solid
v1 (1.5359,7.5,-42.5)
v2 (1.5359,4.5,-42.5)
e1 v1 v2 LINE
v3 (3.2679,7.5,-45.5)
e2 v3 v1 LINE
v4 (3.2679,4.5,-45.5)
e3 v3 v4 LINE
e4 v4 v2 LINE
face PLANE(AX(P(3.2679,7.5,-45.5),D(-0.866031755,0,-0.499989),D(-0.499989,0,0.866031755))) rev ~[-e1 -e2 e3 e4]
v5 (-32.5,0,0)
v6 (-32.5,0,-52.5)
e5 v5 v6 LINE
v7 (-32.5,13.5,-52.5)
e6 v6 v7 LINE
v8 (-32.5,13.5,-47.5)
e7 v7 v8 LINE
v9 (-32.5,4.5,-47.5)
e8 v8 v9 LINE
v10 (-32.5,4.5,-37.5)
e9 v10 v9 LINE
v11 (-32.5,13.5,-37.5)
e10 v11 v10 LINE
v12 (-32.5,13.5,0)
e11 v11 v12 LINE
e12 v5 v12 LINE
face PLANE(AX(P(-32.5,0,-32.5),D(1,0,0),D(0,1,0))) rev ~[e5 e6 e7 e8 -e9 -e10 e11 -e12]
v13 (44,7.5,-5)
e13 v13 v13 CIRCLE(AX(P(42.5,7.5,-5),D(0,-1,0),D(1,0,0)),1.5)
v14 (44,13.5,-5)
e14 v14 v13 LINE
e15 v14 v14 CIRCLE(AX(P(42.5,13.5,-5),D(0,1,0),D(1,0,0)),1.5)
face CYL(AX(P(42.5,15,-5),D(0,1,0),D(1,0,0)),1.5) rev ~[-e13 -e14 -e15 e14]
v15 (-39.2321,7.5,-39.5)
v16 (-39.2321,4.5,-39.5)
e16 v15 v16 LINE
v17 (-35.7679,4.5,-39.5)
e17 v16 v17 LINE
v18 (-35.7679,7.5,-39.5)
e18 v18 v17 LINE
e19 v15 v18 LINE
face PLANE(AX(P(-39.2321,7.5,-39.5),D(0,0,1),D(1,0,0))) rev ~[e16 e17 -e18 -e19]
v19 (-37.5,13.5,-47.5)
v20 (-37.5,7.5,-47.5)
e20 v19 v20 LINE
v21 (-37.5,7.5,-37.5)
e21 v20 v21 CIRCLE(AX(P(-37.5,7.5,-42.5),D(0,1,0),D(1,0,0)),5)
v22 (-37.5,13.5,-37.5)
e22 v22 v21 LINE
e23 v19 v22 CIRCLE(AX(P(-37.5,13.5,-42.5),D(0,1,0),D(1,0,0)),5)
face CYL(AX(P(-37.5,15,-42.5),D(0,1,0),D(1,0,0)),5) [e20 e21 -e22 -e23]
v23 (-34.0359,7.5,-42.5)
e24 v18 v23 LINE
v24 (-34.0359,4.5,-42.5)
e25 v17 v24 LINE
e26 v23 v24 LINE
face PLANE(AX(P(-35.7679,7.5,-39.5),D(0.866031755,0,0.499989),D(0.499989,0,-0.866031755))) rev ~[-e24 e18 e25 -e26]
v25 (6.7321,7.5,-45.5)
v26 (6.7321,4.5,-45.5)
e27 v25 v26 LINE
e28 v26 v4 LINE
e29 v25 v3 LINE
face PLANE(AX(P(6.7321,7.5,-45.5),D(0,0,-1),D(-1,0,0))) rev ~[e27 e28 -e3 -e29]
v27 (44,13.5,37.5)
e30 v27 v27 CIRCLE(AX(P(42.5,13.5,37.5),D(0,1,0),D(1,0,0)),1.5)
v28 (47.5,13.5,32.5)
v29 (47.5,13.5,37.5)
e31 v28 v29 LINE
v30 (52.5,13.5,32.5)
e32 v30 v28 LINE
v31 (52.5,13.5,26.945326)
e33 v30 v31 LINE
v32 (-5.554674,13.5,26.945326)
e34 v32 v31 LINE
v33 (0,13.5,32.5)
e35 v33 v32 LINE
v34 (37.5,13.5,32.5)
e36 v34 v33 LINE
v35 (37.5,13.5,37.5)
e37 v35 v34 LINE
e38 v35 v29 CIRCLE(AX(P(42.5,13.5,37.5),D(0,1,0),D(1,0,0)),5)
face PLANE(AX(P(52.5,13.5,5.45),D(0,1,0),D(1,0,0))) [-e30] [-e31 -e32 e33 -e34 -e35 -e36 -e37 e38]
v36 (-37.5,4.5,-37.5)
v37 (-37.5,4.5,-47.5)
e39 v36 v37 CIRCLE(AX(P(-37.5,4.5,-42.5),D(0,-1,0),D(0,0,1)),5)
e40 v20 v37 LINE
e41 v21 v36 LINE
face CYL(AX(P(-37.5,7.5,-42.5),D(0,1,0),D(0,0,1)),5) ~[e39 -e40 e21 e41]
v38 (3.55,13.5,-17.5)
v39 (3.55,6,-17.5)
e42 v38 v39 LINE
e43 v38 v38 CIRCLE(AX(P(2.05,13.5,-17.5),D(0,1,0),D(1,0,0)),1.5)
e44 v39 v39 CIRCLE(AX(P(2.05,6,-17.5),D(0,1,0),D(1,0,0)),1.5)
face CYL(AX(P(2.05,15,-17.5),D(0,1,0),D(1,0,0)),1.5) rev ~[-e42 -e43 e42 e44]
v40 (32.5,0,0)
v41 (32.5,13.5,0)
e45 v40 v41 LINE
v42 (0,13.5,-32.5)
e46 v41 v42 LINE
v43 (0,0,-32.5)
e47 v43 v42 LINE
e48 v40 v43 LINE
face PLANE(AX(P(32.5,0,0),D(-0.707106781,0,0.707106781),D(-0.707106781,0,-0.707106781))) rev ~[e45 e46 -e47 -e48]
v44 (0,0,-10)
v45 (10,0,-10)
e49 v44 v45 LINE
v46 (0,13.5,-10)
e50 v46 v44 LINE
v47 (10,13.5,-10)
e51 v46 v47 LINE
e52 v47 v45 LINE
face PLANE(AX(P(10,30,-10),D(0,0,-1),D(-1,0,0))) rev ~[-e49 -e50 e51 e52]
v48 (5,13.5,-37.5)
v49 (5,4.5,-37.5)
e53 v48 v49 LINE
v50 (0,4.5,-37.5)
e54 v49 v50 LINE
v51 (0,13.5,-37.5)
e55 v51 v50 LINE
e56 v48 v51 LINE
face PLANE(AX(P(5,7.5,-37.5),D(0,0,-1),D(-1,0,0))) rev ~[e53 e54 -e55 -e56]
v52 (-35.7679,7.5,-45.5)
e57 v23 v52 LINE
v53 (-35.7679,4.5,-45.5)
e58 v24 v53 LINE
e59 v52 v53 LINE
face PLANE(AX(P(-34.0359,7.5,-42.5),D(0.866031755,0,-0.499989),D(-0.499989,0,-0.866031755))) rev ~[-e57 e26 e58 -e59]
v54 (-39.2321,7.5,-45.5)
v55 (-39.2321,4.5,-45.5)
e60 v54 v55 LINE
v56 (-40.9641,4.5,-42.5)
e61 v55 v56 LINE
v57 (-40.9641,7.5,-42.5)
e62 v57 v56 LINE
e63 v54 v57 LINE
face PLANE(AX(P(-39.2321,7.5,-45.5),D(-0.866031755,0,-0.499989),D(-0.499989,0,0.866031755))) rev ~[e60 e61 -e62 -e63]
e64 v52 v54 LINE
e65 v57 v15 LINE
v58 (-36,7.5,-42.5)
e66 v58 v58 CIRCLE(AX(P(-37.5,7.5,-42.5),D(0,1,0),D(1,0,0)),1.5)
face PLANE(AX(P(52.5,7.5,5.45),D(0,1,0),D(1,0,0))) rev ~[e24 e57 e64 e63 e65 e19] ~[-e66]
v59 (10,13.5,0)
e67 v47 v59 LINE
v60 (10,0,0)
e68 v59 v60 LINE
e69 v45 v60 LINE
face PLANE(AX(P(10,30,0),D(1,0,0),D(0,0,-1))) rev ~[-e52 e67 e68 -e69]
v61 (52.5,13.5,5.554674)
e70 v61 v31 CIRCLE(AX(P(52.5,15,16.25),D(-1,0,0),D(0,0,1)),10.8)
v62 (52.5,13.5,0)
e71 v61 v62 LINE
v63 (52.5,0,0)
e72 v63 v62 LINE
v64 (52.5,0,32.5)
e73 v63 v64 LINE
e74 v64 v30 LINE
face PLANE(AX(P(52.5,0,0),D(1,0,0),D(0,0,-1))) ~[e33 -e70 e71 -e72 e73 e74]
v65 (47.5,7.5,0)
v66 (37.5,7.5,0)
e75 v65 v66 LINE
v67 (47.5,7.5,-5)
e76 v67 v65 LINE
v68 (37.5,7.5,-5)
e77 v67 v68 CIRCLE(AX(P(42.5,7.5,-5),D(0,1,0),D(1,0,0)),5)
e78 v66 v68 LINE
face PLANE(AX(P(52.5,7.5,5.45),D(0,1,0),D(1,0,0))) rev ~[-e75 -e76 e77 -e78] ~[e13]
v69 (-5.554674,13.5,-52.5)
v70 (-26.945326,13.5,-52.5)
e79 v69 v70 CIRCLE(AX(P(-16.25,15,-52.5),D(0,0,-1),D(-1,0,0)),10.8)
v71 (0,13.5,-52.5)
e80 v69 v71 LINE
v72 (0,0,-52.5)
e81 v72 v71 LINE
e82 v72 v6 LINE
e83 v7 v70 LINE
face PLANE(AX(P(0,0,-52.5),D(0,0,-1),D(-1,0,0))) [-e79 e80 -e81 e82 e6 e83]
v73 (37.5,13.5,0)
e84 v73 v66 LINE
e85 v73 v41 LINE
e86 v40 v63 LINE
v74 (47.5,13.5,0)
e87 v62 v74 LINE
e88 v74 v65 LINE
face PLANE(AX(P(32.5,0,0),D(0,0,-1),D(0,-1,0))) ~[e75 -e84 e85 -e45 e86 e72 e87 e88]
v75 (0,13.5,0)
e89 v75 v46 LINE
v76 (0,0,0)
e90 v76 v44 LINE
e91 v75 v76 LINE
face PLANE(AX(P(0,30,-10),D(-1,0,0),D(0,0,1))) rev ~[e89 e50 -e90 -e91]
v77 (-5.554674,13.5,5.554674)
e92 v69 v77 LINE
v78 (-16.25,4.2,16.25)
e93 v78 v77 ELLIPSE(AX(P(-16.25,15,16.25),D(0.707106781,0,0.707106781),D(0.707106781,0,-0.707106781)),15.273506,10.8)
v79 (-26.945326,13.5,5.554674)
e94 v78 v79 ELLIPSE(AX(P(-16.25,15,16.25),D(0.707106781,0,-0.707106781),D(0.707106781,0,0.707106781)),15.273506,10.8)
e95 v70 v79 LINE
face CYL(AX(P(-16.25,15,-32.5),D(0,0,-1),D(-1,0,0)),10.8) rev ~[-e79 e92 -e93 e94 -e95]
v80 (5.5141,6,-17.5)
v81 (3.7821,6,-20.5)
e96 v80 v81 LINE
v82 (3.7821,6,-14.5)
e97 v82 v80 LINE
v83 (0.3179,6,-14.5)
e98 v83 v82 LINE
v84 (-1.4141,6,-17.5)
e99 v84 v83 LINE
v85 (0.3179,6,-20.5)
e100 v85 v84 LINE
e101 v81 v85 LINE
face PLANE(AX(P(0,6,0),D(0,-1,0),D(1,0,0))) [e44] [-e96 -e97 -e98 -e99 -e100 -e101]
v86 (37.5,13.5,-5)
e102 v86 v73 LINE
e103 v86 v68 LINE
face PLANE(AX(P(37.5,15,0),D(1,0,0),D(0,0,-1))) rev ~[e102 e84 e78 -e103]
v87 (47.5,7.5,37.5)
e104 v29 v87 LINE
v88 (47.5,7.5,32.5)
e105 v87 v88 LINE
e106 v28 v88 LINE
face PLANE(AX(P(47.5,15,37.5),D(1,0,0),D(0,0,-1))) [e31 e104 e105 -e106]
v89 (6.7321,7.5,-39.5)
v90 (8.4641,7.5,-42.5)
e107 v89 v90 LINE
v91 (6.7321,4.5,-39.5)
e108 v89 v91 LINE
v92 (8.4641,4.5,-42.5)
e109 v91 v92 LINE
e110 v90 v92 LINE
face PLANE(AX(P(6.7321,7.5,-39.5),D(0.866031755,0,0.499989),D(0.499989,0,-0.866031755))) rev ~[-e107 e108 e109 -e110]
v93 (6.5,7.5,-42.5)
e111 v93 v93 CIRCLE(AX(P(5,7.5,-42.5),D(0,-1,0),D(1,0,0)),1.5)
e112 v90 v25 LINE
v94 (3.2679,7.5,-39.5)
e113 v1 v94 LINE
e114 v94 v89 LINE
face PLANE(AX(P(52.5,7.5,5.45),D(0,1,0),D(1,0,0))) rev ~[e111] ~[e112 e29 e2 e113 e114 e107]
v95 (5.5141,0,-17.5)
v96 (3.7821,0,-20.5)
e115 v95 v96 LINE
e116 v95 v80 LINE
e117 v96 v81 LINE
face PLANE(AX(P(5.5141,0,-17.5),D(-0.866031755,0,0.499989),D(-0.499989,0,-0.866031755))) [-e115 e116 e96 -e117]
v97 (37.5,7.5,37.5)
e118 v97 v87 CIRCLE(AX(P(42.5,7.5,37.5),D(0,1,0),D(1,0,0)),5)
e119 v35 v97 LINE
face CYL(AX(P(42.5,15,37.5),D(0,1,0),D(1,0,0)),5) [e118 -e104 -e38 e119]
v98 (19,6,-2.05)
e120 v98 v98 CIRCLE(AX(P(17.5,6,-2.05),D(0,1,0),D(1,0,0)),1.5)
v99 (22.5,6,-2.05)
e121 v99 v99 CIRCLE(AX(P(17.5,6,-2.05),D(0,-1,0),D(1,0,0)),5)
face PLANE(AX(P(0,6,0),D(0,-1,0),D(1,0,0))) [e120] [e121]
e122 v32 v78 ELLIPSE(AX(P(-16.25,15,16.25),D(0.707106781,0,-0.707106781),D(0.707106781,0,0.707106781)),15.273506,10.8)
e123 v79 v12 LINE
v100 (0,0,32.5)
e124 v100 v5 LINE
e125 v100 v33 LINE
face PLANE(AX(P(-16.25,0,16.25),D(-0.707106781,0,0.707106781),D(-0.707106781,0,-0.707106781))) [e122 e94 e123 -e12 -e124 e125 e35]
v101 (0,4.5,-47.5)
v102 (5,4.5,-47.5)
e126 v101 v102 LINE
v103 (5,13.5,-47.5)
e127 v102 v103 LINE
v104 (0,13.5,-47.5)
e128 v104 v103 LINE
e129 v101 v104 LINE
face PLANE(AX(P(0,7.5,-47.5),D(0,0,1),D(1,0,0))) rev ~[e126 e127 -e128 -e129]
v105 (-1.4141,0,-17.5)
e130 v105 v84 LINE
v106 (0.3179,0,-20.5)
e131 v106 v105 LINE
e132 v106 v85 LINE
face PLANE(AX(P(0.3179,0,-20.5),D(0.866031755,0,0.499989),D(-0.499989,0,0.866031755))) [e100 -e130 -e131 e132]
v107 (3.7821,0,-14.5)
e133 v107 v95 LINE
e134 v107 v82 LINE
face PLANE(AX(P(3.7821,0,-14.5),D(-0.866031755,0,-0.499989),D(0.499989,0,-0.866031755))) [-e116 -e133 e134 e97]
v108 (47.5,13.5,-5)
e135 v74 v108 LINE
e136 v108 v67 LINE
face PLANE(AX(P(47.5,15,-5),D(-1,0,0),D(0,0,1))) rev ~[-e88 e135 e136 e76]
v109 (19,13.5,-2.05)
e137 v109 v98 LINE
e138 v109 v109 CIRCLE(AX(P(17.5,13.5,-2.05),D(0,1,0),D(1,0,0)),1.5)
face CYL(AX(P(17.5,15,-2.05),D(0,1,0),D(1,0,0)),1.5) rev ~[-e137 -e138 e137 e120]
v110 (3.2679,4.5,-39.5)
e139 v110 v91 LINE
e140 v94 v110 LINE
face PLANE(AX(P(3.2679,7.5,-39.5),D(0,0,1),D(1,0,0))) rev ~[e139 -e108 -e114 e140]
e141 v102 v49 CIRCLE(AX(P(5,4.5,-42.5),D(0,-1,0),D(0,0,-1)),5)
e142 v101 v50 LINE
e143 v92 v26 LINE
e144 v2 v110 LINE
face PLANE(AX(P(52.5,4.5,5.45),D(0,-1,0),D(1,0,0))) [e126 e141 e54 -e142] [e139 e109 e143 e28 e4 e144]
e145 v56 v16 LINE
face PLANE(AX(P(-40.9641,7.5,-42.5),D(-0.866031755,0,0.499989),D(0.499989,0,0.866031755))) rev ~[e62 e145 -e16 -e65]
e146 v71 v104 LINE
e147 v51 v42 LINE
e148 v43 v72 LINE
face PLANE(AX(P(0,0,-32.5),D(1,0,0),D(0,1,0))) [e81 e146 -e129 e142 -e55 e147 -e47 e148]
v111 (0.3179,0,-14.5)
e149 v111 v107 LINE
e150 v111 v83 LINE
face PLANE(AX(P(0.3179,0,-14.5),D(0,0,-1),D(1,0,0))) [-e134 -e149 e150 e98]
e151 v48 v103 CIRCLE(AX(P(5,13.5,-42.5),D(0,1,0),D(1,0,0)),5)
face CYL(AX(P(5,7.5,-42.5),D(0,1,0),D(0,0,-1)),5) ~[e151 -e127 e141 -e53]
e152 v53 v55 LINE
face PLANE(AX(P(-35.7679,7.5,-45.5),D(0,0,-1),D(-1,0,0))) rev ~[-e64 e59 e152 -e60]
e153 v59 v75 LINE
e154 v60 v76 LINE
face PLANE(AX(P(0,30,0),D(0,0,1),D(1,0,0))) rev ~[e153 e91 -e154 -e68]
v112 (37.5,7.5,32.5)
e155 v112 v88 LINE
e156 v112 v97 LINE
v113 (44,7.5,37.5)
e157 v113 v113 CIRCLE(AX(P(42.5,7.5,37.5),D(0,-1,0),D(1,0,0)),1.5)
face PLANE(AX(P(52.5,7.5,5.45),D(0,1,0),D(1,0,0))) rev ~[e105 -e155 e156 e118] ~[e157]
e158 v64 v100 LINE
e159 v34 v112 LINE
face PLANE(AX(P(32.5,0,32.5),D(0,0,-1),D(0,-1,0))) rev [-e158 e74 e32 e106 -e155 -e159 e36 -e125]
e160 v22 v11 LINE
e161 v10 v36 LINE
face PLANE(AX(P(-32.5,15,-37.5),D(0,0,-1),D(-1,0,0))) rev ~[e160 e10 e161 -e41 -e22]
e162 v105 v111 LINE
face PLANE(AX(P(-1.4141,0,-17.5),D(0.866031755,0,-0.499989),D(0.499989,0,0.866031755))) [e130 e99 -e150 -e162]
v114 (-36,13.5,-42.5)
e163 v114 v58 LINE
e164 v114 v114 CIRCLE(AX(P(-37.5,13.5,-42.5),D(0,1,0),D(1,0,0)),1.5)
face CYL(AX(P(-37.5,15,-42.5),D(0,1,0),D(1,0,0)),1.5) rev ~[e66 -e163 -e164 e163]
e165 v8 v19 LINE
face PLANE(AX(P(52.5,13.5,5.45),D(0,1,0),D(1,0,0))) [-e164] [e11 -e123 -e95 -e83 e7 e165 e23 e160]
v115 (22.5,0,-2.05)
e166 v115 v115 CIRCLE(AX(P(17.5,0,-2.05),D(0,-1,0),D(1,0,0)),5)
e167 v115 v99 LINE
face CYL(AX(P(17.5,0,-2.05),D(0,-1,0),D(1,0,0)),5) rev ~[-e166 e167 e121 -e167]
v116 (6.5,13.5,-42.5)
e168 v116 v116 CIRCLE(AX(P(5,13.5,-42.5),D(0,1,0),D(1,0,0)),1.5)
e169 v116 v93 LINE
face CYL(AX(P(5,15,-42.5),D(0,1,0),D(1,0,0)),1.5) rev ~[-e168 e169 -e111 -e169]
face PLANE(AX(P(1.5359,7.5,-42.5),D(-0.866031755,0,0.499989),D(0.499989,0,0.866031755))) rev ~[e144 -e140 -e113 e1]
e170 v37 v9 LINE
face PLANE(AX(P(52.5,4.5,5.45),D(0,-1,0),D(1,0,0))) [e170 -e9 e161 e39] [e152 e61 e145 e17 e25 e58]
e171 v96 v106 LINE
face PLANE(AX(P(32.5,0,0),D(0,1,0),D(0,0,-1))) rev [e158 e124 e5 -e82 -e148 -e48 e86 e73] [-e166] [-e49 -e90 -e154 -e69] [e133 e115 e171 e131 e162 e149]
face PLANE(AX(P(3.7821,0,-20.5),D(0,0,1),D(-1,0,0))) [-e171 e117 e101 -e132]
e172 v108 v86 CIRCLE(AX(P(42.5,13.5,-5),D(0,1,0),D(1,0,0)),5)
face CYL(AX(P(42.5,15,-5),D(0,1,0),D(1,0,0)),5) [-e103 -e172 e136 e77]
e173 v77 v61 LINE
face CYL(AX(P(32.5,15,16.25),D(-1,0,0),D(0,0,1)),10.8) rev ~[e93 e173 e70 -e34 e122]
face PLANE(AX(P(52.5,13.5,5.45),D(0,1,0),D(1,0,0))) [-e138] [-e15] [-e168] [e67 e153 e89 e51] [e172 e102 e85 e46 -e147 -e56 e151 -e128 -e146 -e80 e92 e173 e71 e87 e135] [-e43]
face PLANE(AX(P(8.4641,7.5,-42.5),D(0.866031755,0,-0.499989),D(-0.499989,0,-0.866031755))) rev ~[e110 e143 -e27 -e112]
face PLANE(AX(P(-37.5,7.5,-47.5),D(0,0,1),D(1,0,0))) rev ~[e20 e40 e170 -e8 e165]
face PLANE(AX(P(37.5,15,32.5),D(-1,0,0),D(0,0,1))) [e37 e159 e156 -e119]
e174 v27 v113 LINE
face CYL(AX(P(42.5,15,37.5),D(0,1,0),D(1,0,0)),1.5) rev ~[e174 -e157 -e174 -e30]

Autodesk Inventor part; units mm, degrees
ref_plane "YZ Plane" through (0, 0, 0) normal (1, 0, 0) x (0, 1, 0)
ref_plane "XZ Plane" through (0, 0, 0) normal (0, 1, 0) x (-1, 0, 0)
sketch "Sketch1" plane through (0, 0, 0) normal (0, 1, 0) x (-1, 0, 0)
  line L0 (-32.5, -32.5) -> (32.5, -32.5)
  line L1 (32.5, -32.5) -> (32.5, 32.5)
  line L2 (32.5, 32.5) -> (-32.5, 32.5)
  line L3 (-32.5, 32.5) -> (-32.5, -32.5)
  line L4 (-32.5, -32.5) -> (32.5, 32.5) construction
  line L5 (32.5, -32.5) -> (-32.5, 32.5) construction
  line L6 (-32.5, 0) -> (0, -32.5)
  point P0 (0, 0)
  dimension "d0" = 65
  dimension "d1" = 65
extrude "Extrusion1" add sketch "Sketch1" along normal blind 30 contours L6 L3 L2 L1 L0
sketch "Sketch2" plane through (32.5, 0, 32.5) normal (1, 0, 0) x (0, 0, -1)
  line L0 (0, 0) -> (32.5, 0) projected
  line L1 (0, 30) -> (32.5, 30) projected
  line L2 (0, 0) -> (32.5, 30)
  circle A0 centre (16.25, 15) radius 10.8
  dimension "d5" = 21.6
extrude "Extrusion2" cut sketch "Sketch2" against normal blind 65.75
sketch "Sketch3" plane through (0, 0, -32.5) normal (0, 0, -1) x (-1, 0, 0)
  line L0 (32.5, 0) -> (32.5, 30) projected
  line L1 (0, 0) -> (32.5, 30)
  circle A0 centre (16.25, 15) radius 10.8
  dimension "d8" = 21.6
extrude "Extrusion3" cut sketch "Sketch3" against normal blind 65.75
sketch "Sketch4" plane through (0, 0, -32.5) normal (0, 0, -1) x (-1, 0, 0)
  circle A0 centre (16.25, 15) radius 10.8 projected
  line L0 (0, 0) -> (32.5, 0) projected
  line L1 (32.5, 0) -> (32.5, 30) projected
  line L2 (0, 30) -> (32.5, 30) projected
  line L3 (0, 0) -> (0, 30) projected
  point P0 (0, 0)
extrude "Extrusion4" add sketch "Sketch4" along normal blind 20
sketch "Sketch6" plane through (-32.5, 0, 32.5) normal (0, 0, 1) x (1, 0, 0)
  point P0 (32.5, 0)
ref_plane "Work Plane1" through (-32.5, 0, 32.5) normal (0.7071, 0, 0.7071) x (0, 1, 0)
mirror "Mirror1" about plane through (-32.5, 0, 32.5) normal (0.7071, 0, 0.7071) of "Extrusion4"
sketch "Sketch7" plane through (0, 30, 0) normal (0, 1, 0) x (1, 0, 0)
  line L0 (0, 0) -> (10, 0)
  line L1 (10, 0) -> (10, 10)
  line L2 (10, 10) -> (0, 10)
  line L3 (0, 10) -> (0, 0)
  dimension "d20" = 10
  dimension "d21" = 10
extrude "Extrusion7" cut sketch "Sketch7" against normal blind 72
sketch "Sketch8" plane through (0, 30, 0) normal (0, 1, 0) x (1, 0, 0)
  point P0 (0, 0)
sketch "Sketch9" plane through (0, 0, 0) normal (0, -1, 0) x (1, 0, 0)
  line L0 (-32.5, 32.5) -> (52.5, 32.5) projected
  line L1 (0, 32.5) -> (-32.5, 0)
  line L2 (-32.5, 32.5) -> (-32.5, -52.5) projected
  line L3 (-16.25, 16.25) -> (-27.05, 27.05) projected
  line L4 (10, -10) -> (0, -10) projected
  line L5 (0, -10) -> (0, 0) projected
  line L6 (0, 0) -> (10, 0) projected
  line L7 (10, 0) -> (10, -10) projected
  line L8 (-32.5, 32.5) -> (52.5, 32.5) projected
  line L9 (-32.5, 32.5) -> (-32.5, -52.5) projected
  line L10 (0, -52.5) -> (-32.5, -52.5) projected
  line L11 (0, -32.5) -> (0, -52.5) projected
  line L12 (32.5, 0) -> (0, -32.5) projected
  line L13 (32.5, 0) -> (52.5, 0) projected
  line L14 (52.5, 0) -> (52.5, 32.5) projected
extrude "Extrusion8" cut sketch "Sketch9" against normal blind 77 contours L0 L1 L2
sketch "Sketch10" plane through (52.5, 0, 0) normal (1, 0, 0) x (0, 0, -1)
  line L0 (-32.5, 0) -> (-32.5, 30) projected
  line L1 (-32.5, 15) -> (70.7005, 15)
  line L2 (-32.5, 18) -> (63.4302, 18)
  line L3 (63.4302, 18) -> (63.4302, 33.0459)
  line L4 (63.4302, 33.0459) -> (-32.5, 33.0459)
  line L5 (-32.5, 33.0459) -> (-32.5, 18)
  line L6 (-32.5, 12) -> (64.9451, 12)
  line L7 (64.9451, 12) -> (64.9451, -20.31)
  line L8 (64.9451, -20.31) -> (-32.5, -20.31)
  line L9 (-32.5, -20.31) -> (-32.5, 12)
  line L10 (32.5, 0) -> (52.5, 0) projected
  line L11 (-32.5, 30) -> (52.5, 30)
  line L12 (52.5, 30) -> (52.5, 0)
  line L13 (52.5, 0) -> (-32.5, 0)
  line L14 (-32.5, 0) -> (-32.5, 30)
  point P0 (0, 0)
  point P1 (52.5, 15)
  dimension "d26" = 3
  dimension "d27" = 3
extrude "Extrusion9" cut sketch "Sketch10" against normal blind 103.25 contours L0 L2 L12 L1 | L0 L11 L12 L2
sketch "Sketch11" plane through (52.5, 15, 5.45) normal (0, 1, 0) x (1, 0, 0)
  line L0 (-85, 5.45) -> (-85, 57.95) projected
  line L1 (-85, 47.95) -> (-90, 47.95)
  circle A0 centre (-90, 47.95) radius 1.5
  circle A1 centre (-90, 47.95) radius 5
  line L2 (-90, 52.95) -> (-85, 52.95)
  line L3 (-85, 52.95) -> (-85, 42.95)
  line L4 (-85, 42.95) -> (-90, 42.95)
  line L5 (-90, 42.95) -> (-90, 52.95)
  line L6 (-52.5, 57.95) -> (-85, 57.95) projected
  line L7 (-68.75, 57.95) -> (-68.75, 39.1834)
  line L8 (-68.75, -10.8) -> (-79.55, 0) projected
  line L9 (-68.75, -10.8) -> (-16.5653, 41.3847)
  line L10 (-52.5, 47.95) -> (-47.5, 47.95)
  circle A2 centre (-47.5, 47.95) radius 1.5
  circle A3 centre (-47.5, 47.95) radius 5
  line L11 (-47.5, 52.95) -> (-52.5, 52.95)
  line L12 (-52.5, 52.95) -> (-52.5, 42.95)
  line L13 (-52.5, 42.95) -> (-47.5, 42.95)
  line L14 (-47.5, 42.95) -> (-47.5, 52.95)
  line L15 (-10, -27.05) -> (-10, -32.05)
  circle A4 centre (-10, -32.05) radius 1.5
  circle A5 centre (-10, -32.05) radius 5
  line L16 (-5, -32.05) -> (-5, -27.05)
  line L17 (-5, -27.05) -> (-15, -27.05)
  line L18 (-15, -27.05) -> (-15, -32.05)
  line L19 (-15, -32.05) -> (-5, -32.05)
  line L20 (0, 5.45) -> (0, -27.05)
  line L21 (0, -10.8) -> (-18.7666, -10.8)
  line L22 (-10, 5.45) -> (-10, 10.45)
  circle A6 centre (-10, 10.45) radius 1.5
  circle A7 centre (-10, 10.45) radius 5
  line L23 (-5, 10.45) -> (-5, 5.45)
  line L24 (-5, 5.45) -> (-15, 5.45)
  line L25 (-15, 5.45) -> (-15, 10.45)
  line L26 (-15, 10.45) -> (-5, 10.45)
  point P0 (-52.5, 5.45)
  point P1 (-15, -32.05)
  point P2 (-85, 52.95)
  dimension "d30" = 5
  dimension "d31" = 3
  dimension "d32" = 10
extrude "Extrusion10" add sketch "Sketch11" against normal blind 7.5 contours L4 A1 L0 | A1 L2 L0 | A1 L5 A0 L1 | L1 A0 L5 A1 | A1 L5 A0 | A3 L14 A2 L10 | L12 L11 A3 | L10 A2 L14 A3 | A3 L13 L12 | A3 L14 A2 | A5 L19 A4 L15 | L17 L16 A5 | L15 A4 L19 A5 | A5 L18 L17 | A5 L19 A4 | A7 L26 A6 L22 | L24 L25 A7 | L22 A6 L26 A7 | A7 L23 L24 | A7 L26 A6
sketch "Sketch12" plane through (52.5, 15, 5.45) normal (0, 1, 0) x (1, 0, 0)
  line L0 (0, 0) -> (-57.95, 0) projected
  line L1 (-57.95, 0) -> (-36.25, 21.7)
  line L2 (-52.5, 37.95) -> (-20, 5.45) projected
  circle A0 centre (-50.45, 22.95) radius 1.5
  line L3 (-57.95, 0) -> (-57.95, 57.95) projected
  line L4 (-42.5, 15.45) -> (-52.5, 15.45) projected
  circle A1 centre (-35, 7.5) radius 1.5
  point P0 (-52.5, 5.45)
  dimension "d35" = 7.5
  dimension "d36" = 7.5
  dimension "d37" = 3
extrude "Extrusion11" cut sketch "Sketch12" against normal blind 19
sketch "Sketch13" plane through (52.5, 7.5, 5.45) normal (0, -1, 0) x (1, 0, 0)
  circle A0 centre (-90, -47.95) radius 1.5 projected
  line L0 (-93.4641, -47.95) -> (-91.7321, -44.95)
  line L1 (-91.7321, -44.95) -> (-88.2679, -44.95)
  line L2 (-88.2679, -44.95) -> (-86.5359, -47.95)
  line L3 (-86.5359, -47.95) -> (-88.2679, -50.95)
  line L4 (-88.2679, -50.95) -> (-91.7321, -50.95)
  line L5 (-91.7321, -50.95) -> (-93.4641, -47.95)
  line L6 (-85, -42.95) -> (-90, -42.95) projected
  arc A1 (-90, -42.95) -> (-90, -52.95) centre (-90, -47.95) ccw projected
  line L7 (-90, -52.95) -> (-85, -52.95) projected
  line L8 (-85, -42.95) -> (-85, -52.95) projected
  circle A2 centre (-90, -47.95) radius 1.5 projected
  point P0 (-52.5, -5.45)
  dimension "d40" = 6
extrude "Extrusion12" add sketch "Sketch13" along normal blind 3 contours L8 L7 A1 L6
sketch "Sketch14" plane through (52.5, 7.5, 5.45) normal (0, -1, 0) x (1, 0, 0)
  circle A0 centre (-47.5, -47.95) radius 1.5 projected
  line L0 (-50.9641, -47.95) -> (-49.2321, -44.95)
  line L1 (-49.2321, -44.95) -> (-45.7679, -44.95)
  line L2 (-45.7679, -44.95) -> (-44.0359, -47.95)
  line L3 (-44.0359, -47.95) -> (-45.7679, -50.95)
  line L4 (-45.7679, -50.95) -> (-49.2321, -50.95)
  line L5 (-49.2321, -50.95) -> (-50.9641, -47.95)
  line L6 (-47.5, -42.95) -> (-52.5, -42.95) projected
  line L7 (-52.5, -52.95) -> (-52.5, -42.95) projected
  line L8 (-52.5, -52.95) -> (-47.5, -52.95) projected
  arc A1 (-47.5, -52.95) -> (-47.5, -42.95) centre (-47.5, -47.95) ccw projected
  circle A2 centre (-47.5, -47.95) radius 1.5 projected
  point P0 (-52.5, -5.45)
  dimension "d43" = 6
extrude "Extrusion13" add sketch "Sketch14" along normal blind 3 contours A1 L8 L7 L6
sketch "Sketch15" plane through (0, 0, 0) normal (0, -1, 0) x (1, 0, 0)
  circle A0 centre (2.05, -17.5) radius 1.5 projected
  line L0 (-1.4141, -17.5) -> (0.3179, -14.5)
  line L1 (0.3179, -14.5) -> (3.7821, -14.5)
  line L2 (3.7821, -14.5) -> (5.5141, -17.5)
  line L3 (5.5141, -17.5) -> (3.7821, -20.5)
  line L4 (3.7821, -20.5) -> (0.3179, -20.5)
  line L5 (0.3179, -20.5) -> (-1.4141, -17.5)
  circle A1 centre (17.5, -2.05) radius 1.5 projected
  circle A2 centre (17.5, -2.05) radius 5
  point P0 (0, 0)
  dimension "d46" = 6
  dimension "d47" = 10
extrude "Extrusion14" cut sketch "Sketch15" against normal blind 6 contours A0 | L0 L1 L2 L3 L4 L5 | A1 | A2
sketch "Sketch16" plane through (52.5, 15, 5.45) normal (0, 1, 0) x (1, 0, 0)
  circle A0 centre (-50.45, 22.95) radius 1.5 projected
  circle A1 centre (-35, 7.5) radius 1.5 projected
  circle A2 centre (-50.45, 22.95) radius 1.5 projected
  circle A3 centre (-10, 10.45) radius 1.5 projected
  circle A4 centre (-47.5, 47.95) radius 1.5 projected
  line L0 (-57.95, 0) -> (-57.95, 57.95) projected
  line L1 (0, 0) -> (-57.95, 0) projected
  line L2 (0, 5.45) -> (0, 0) projected
  line L3 (-5, 5.45) -> (0, 5.45) projected
  line L4 (-5, 5.45) -> (-5, 10.45) projected
  arc A5 (-5, 10.45) -> (-15, 10.45) centre (-10, 10.45) ccw projected
  line L5 (-15, 10.45) -> (-15, 5.45) projected
  line L6 (-20, 5.45) -> (-15, 5.45) projected
  line L7 (-52.5, 37.95) -> (-20, 5.45) projected
  line L8 (-52.5, 42.95) -> (-52.5, 37.95) projected
  line L9 (-52.5, 42.95) -> (-47.5, 42.95) projected
  arc A6 (-47.5, 42.95) -> (-47.5, 52.95) centre (-47.5, 47.95) ccw projected
  line L10 (-47.5, 52.95) -> (-52.5, 52.95) projected
  line L11 (-52.5, 57.95) -> (-52.5, 52.95) projected
  line L12 (-57.95, 57.95) -> (-52.5, 57.95) projected
  line L13 (-52.5, 5.45) -> (-42.5, 5.45) projected
  line L14 (-52.5, 15.45) -> (-52.5, 5.45) projected
  line L15 (-42.5, 15.45) -> (-52.5, 15.45) projected
  line L16 (-42.5, 5.45) -> (-42.5, 15.45) projected
  circle A7 centre (-90, 47.95) radius 1.5 projected
  line L17 (-79.55, 57.95) -> (-79.55, 0) projected
  line L18 (-85, 57.95) -> (-79.55, 57.95) projected
  line L19 (-85, 52.95) -> (-85, 57.95) projected
  line L20 (-85, 52.95) -> (-90, 52.95) projected
  arc A8 (-90, 52.95) -> (-90, 42.95) centre (-90, 47.95) ccw projected
  line L21 (-90, 42.95) -> (-85, 42.95) projected
  line L22 (-85, 5.45) -> (-85, 42.95) projected
  line L23 (-79.55, 0) -> (-85, 5.45) projected
  circle A9 centre (-10, -32.05) radius 1.5 projected
  line L24 (-57.95, -21.6) -> (0, -21.6) projected
  line L25 (-52.5, -27.05) -> (-57.95, -21.6) projected
  line L26 (-15, -27.05) -> (-52.5, -27.05) projected
  line L27 (-15, -27.05) -> (-15, -32.05) projected
  arc A10 (-15, -32.05) -> (-5, -32.05) centre (-10, -32.05) ccw projected
  line L28 (-5, -32.05) -> (-5, -27.05) projected
  line L29 (0, -27.05) -> (-5, -27.05) projected
  line L30 (0, -21.6) -> (0, -27.05) projected
  circle A11 centre (-52.5, 5.45) radius 98.2361
  point P0 (-52.5, 5.45)
extrude "Extrusion15" cut sketch "Sketch16" against normal blind 1.5 contours A0 | A1 | A3 | A4 | L0 L12 L11 L10 A6 L9 L8 L7 L6 L5 A5 L4 L3 L2 L1 | L14 L15 L16 L13 | A7 | L17 L23 L22 L21 A8 L20 L19 L18 | A9 | L24 L30 L29 L28 A10 L27 L26 L25 | A11
properties part number "Shaft_Connector_Top_Corner"
